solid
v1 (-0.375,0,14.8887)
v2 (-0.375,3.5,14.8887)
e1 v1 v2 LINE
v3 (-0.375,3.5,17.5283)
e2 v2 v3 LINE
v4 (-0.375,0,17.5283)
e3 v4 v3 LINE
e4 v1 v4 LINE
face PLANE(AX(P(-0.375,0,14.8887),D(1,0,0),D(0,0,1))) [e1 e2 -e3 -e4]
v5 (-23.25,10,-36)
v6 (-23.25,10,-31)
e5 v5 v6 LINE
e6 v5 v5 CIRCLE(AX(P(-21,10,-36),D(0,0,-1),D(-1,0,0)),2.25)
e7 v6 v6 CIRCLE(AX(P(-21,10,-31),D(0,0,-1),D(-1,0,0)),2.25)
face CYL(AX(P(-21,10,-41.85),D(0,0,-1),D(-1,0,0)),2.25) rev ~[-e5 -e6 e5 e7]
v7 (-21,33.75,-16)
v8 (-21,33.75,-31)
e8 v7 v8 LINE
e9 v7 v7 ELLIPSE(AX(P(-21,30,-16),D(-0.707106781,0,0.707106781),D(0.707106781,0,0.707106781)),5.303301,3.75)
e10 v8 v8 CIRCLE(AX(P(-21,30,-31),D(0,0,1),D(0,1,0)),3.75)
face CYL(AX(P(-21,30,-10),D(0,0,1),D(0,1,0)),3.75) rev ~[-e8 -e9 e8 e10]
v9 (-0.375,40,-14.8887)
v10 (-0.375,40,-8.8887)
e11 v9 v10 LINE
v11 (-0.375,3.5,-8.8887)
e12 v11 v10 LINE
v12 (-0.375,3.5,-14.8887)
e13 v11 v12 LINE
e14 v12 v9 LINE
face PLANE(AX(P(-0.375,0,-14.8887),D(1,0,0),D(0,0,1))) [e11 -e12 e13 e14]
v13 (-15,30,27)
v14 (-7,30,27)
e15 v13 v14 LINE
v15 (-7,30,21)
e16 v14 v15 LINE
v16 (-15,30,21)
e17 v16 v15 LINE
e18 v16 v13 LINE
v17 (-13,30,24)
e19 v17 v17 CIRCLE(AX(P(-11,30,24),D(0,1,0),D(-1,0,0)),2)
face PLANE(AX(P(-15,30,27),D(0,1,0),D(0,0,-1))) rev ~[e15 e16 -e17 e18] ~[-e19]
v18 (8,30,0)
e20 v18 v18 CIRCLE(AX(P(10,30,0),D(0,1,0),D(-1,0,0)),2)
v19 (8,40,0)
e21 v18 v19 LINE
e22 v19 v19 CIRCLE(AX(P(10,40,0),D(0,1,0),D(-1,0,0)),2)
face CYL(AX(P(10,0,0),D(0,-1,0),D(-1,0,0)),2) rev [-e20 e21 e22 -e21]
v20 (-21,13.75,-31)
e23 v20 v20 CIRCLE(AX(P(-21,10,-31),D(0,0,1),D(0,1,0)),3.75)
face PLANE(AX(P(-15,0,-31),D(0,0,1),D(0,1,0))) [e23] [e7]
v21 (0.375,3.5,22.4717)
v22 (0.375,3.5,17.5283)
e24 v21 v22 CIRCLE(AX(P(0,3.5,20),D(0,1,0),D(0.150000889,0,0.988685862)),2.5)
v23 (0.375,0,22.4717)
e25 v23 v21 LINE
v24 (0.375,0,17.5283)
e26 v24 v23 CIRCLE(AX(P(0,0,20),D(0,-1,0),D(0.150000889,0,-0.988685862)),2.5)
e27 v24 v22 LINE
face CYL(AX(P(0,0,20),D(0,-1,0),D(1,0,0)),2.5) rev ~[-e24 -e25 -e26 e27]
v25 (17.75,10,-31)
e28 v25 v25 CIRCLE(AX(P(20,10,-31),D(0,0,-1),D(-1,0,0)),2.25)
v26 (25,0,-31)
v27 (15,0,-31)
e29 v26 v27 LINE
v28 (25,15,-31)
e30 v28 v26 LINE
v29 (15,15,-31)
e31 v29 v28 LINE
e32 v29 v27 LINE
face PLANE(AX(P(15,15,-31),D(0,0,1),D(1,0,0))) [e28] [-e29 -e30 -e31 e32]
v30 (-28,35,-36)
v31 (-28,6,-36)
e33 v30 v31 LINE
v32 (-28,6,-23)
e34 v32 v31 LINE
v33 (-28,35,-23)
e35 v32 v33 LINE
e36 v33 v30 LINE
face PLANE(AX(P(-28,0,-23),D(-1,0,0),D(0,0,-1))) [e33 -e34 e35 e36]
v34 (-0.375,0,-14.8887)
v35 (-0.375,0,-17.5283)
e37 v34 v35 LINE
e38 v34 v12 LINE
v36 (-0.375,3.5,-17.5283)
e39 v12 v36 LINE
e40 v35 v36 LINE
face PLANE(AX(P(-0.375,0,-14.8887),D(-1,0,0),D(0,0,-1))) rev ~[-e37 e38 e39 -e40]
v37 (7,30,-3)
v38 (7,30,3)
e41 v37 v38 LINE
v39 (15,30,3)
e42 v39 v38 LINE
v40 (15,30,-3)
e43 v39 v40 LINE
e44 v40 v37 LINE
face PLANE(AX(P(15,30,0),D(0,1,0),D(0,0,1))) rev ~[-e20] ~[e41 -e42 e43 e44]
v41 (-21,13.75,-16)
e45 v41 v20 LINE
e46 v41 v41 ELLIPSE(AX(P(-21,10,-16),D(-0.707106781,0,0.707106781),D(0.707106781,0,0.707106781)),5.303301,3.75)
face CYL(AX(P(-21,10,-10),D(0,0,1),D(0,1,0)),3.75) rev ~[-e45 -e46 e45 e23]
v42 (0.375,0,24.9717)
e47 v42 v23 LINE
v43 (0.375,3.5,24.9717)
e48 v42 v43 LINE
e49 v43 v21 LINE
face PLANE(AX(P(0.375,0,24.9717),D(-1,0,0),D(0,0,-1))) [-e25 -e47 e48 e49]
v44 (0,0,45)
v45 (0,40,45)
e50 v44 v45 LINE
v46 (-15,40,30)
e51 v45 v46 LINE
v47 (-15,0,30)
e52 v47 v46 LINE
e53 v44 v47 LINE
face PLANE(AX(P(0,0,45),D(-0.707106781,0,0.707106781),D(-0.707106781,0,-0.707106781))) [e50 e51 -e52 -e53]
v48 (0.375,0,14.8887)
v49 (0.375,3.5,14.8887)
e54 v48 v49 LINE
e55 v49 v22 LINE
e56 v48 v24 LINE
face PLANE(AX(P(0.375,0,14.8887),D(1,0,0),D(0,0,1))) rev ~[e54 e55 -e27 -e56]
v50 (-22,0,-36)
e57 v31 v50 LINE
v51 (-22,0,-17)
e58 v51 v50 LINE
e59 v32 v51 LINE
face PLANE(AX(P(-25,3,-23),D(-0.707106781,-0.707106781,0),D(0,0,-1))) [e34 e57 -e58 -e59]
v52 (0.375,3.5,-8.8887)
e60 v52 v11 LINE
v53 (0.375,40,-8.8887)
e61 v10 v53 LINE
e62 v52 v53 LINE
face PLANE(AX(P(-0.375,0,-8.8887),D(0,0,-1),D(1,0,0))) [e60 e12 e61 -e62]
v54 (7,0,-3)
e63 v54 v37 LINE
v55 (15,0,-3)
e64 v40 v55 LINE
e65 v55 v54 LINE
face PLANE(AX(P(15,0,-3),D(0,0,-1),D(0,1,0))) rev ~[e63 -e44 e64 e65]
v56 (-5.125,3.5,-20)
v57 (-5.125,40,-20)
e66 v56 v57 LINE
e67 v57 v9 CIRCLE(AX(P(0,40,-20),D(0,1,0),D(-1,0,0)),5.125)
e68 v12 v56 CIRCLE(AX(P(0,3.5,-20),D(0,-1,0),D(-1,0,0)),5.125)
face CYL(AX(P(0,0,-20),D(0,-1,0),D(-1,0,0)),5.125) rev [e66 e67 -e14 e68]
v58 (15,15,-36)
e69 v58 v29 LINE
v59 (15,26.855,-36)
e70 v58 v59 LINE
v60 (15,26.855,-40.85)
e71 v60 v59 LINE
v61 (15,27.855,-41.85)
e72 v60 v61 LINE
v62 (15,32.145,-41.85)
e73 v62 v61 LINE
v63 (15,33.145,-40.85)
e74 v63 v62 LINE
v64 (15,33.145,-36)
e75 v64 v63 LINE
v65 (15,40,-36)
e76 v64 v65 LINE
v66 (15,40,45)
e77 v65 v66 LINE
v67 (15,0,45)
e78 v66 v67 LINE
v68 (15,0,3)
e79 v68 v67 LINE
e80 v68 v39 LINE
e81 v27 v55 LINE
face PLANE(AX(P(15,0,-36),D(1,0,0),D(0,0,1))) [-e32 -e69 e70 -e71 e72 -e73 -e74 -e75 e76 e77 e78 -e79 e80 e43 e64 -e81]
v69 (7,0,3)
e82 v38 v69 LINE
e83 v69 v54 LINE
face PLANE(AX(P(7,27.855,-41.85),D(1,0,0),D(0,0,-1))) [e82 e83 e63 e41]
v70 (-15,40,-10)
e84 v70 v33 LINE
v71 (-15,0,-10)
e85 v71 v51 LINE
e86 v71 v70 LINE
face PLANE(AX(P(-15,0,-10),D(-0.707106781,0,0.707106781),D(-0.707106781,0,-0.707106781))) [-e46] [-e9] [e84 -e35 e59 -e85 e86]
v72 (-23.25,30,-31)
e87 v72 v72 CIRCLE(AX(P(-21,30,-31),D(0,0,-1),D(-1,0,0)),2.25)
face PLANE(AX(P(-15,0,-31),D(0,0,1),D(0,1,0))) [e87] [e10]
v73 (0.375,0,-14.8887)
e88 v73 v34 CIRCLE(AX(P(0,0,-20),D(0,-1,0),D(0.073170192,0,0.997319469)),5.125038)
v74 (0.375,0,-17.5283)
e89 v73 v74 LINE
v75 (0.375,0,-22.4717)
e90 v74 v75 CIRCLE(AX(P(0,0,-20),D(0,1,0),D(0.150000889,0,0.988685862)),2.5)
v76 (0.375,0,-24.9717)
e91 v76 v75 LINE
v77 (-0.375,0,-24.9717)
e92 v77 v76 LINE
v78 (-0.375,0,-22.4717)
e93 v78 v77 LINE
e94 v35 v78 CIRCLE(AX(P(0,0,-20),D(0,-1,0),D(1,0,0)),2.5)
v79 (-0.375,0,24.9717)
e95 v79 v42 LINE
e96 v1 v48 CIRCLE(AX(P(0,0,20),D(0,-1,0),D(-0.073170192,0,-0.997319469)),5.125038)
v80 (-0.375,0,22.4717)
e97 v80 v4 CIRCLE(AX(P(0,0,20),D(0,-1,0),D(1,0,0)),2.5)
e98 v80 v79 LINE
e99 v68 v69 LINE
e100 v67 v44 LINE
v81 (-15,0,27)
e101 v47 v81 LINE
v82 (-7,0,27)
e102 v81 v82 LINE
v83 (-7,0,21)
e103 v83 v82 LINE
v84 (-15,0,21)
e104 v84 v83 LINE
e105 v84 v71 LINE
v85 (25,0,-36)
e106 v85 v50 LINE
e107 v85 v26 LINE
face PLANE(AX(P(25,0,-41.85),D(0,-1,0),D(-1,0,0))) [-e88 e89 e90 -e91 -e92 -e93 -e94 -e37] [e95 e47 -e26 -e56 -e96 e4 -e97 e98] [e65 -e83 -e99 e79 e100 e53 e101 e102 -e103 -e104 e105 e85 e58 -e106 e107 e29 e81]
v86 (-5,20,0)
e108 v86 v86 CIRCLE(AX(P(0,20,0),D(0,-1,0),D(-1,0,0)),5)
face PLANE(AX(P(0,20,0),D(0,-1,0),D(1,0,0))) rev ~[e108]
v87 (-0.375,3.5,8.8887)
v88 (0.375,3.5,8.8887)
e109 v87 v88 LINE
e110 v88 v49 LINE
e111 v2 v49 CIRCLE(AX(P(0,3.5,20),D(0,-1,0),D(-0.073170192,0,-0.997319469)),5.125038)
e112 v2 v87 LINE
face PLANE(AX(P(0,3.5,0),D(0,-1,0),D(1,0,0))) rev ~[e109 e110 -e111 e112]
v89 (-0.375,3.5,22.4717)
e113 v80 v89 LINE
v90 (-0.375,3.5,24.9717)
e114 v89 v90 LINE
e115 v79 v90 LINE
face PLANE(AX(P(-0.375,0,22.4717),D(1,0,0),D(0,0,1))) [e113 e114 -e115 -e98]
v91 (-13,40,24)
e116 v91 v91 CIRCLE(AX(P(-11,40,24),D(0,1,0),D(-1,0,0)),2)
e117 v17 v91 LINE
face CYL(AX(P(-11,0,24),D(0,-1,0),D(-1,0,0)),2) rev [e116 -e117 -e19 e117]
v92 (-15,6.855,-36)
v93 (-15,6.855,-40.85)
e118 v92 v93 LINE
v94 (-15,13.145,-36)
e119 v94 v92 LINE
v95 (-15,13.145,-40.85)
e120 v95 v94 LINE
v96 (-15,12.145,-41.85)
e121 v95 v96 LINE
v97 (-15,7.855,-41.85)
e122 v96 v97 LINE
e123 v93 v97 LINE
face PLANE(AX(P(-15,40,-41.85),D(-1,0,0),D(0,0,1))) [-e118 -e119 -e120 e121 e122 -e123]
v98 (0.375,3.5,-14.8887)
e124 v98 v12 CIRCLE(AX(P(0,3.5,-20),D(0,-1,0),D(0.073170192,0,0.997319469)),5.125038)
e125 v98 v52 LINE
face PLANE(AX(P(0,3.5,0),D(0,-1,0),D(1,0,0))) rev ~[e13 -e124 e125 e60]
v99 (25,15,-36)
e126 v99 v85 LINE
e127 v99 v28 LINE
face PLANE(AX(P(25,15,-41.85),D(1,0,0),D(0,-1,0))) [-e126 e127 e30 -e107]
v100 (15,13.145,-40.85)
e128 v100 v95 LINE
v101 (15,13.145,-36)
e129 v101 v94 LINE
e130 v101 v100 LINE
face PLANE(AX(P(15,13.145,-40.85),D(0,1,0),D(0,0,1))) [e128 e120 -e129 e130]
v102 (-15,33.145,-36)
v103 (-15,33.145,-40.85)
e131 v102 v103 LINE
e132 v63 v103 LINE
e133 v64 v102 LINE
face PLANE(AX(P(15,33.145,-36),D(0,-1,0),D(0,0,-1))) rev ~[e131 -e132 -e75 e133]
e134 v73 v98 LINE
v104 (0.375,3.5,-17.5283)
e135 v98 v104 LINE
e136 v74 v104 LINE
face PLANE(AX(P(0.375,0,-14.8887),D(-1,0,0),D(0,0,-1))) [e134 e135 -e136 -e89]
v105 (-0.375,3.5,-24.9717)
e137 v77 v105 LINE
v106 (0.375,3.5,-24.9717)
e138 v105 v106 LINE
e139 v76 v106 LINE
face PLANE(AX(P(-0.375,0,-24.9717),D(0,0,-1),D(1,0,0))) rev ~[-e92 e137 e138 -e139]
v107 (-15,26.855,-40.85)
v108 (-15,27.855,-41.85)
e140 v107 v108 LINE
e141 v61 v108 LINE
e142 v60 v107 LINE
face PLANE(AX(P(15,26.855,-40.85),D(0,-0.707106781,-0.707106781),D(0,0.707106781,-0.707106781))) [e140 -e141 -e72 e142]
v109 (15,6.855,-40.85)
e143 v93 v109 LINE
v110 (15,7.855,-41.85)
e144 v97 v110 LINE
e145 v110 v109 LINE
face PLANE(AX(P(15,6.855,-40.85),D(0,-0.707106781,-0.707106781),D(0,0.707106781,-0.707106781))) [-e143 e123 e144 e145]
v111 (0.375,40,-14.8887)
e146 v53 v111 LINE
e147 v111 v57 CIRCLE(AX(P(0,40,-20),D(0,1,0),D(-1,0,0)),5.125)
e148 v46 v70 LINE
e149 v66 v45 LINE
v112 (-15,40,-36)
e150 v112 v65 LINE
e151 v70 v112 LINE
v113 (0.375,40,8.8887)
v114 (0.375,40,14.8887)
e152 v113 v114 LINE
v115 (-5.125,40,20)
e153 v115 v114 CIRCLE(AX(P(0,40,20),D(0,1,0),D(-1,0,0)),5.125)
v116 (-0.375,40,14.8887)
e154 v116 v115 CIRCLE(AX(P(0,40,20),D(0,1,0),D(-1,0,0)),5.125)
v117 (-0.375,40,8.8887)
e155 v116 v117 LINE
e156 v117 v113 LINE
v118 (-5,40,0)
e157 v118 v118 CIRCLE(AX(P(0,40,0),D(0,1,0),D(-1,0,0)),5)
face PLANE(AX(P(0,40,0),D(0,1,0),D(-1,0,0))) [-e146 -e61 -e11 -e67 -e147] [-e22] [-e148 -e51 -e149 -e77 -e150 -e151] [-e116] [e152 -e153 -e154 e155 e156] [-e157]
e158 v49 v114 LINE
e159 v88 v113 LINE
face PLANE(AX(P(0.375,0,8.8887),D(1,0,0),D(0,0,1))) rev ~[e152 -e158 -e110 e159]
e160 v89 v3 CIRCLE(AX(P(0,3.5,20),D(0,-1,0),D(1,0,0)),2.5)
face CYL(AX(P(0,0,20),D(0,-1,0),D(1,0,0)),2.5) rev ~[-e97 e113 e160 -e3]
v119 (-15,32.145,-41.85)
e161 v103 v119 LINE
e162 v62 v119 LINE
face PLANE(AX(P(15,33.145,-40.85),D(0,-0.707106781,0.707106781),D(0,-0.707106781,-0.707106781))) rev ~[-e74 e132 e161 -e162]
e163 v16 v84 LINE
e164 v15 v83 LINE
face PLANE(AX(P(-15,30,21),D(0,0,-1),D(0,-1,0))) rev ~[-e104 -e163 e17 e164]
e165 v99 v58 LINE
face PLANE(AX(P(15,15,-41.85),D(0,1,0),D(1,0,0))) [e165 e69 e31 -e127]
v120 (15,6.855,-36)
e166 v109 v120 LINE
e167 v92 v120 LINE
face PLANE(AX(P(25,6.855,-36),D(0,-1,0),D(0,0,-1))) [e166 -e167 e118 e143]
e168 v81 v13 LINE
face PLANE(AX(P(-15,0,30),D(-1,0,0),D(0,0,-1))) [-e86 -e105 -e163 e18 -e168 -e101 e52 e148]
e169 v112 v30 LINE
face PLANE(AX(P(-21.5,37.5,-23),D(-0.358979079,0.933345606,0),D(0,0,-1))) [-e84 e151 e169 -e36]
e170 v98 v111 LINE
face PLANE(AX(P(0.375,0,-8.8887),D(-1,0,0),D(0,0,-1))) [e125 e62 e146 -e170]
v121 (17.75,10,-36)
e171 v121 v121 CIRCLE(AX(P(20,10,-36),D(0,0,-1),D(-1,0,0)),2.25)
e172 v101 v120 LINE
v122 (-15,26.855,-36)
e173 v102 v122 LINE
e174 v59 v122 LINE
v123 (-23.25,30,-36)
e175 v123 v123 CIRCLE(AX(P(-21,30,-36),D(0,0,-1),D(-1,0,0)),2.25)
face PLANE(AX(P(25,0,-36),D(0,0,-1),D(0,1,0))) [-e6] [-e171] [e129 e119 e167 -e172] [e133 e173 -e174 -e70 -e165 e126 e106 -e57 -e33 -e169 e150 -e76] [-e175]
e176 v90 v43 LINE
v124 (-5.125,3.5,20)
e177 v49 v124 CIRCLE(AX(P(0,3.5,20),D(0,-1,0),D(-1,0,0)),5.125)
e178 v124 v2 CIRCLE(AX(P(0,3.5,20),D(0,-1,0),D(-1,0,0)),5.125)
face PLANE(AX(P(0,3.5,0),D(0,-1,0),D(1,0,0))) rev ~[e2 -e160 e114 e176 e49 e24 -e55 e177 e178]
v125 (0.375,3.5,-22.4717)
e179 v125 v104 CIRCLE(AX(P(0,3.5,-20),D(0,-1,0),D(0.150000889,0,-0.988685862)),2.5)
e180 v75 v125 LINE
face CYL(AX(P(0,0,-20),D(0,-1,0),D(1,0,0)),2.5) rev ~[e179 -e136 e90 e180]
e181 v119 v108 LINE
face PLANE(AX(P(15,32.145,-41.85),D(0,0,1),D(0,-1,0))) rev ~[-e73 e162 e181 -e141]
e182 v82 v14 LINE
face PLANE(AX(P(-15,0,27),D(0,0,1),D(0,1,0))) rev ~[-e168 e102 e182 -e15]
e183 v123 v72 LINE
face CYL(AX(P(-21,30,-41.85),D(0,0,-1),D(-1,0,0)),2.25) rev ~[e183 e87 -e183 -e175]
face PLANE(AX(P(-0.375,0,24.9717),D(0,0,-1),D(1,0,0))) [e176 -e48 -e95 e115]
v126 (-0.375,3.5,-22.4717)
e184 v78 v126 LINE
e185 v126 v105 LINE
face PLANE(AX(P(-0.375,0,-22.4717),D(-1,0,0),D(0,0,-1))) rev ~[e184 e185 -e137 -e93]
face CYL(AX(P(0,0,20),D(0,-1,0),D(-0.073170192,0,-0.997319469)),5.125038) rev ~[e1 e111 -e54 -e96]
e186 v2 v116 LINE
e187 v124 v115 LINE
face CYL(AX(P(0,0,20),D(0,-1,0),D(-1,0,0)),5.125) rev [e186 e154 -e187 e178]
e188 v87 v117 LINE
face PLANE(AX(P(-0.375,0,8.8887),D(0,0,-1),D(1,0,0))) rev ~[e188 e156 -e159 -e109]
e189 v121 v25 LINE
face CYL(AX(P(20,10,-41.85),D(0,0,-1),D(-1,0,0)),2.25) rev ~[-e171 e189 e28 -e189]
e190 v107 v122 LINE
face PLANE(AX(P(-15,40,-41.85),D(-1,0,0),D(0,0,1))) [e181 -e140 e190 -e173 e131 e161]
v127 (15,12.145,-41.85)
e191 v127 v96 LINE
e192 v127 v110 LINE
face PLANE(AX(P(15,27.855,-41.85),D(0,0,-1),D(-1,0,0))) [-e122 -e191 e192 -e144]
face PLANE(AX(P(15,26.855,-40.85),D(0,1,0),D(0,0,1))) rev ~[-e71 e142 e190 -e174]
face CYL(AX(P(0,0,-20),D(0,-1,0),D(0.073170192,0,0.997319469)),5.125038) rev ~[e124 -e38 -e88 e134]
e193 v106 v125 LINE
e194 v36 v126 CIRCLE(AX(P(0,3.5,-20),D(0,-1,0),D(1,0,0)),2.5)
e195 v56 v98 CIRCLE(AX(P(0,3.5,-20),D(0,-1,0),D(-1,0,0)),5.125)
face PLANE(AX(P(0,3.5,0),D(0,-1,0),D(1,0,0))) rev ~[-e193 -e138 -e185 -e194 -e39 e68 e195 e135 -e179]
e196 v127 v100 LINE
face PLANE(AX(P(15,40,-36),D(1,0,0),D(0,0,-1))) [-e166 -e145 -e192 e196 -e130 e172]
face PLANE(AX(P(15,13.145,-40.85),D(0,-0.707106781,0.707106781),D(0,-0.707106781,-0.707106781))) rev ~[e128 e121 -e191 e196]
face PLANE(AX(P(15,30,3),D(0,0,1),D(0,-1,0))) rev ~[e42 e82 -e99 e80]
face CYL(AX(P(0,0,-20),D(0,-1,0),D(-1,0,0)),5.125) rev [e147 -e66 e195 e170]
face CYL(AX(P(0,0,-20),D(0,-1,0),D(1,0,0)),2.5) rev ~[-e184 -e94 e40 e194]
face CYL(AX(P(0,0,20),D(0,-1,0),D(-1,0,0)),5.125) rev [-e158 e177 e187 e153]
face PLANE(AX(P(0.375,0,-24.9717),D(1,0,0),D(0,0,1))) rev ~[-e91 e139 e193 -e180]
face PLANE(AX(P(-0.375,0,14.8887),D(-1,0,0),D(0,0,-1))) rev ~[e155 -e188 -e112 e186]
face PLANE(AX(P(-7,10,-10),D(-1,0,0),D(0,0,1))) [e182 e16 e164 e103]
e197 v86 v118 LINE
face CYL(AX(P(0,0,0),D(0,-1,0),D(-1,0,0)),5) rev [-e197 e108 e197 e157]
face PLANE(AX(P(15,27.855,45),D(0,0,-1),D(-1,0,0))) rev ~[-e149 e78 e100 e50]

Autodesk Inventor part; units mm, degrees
ref_plane "YZ Plane" through (0, 0, 0) normal (1, 0, 0) x (0, 1, 0)
ref_plane "XZ Plane" through (0, 0, 0) normal (0, 1, 0) x (-1, 0, 0)
sketch "Sketch1" plane through (0, 0, 0) normal (0, 1, 0) x (-1, 0, 0)
  circle A0 centre (0, 0) radius 5
  line L0 (-23.6, 0) -> (36.6, 0) construction
  line L1 (0, -52.2) -> (0, 61.2) construction
  circle A1 centre (0, 20) radius 5.125
  circle A2 centre (0, -20) radius 5.125
  circle A3 centre (-10, 0) radius 2
  circle A4 centre (11, 24) radius 2
  line L2 (0, 45) -> (15, 30)
  line L3 (15, 30) -> (15, -10)
  line L4 (15, -10) -> (28, -23)
  line L5 (28, -23) -> (28, -36)
  line L6 (28, -36) -> (-15, -36)
  line L7 (-15, -36) -> (-15, 45)
  line L8 (-15, 45) -> (0, 45)
  line L9 (0.375, 14.8887) -> (0.375, 8.8887)
  line L10 (0.375, 8.8887) -> (-0.375, 8.8887)
  line L11 (-0.375, 8.8887) -> (-0.375, 14.8887)
  line L12 (0.375, -14.8887) -> (0.375, -8.8887)
  line L13 (0.375, -8.8887) -> (-0.375, -8.8887)
  line L14 (-0.375, -8.8887) -> (-0.375, -14.8887)
  dimension "d0" = 10
  dimension "d1" = 10.25
  dimension "d3" = 40
  dimension "d4" = 4
  dimension "d5" = 11
  dimension "d6" = 4
  dimension "d9" = 10
  dimension "d10" = 4
  dimension "d13" = 45
  dimension "d14" = 15
  dimension "d16" = 16
  dimension "d17" = 13
  dimension "d18" = 45
  dimension "d19" = 25
  dimension "d24" = 0.75
  dimension "d25" = 6
  dimension "d106" = 13
extrude "Extrusion1" add sketch "Sketch1" along normal blind 40
sketch "Sketch2" plane through (0, 0, 0) normal (0, -1, 0) x (1, 0, 0)
  circle A0 centre (0, 0) radius 5 projected
extrude "Extrusion2" add sketch "Sketch2" against normal blind 20
sketch "Sketch3" plane through (0, 0, 0) normal (0, -1, 0) x (1, 0, 0)
  arc A0 (-0.375, -14.8887) -> (0.375, -14.8887) centre (0, -20) ccw projected
  circle A1 centre (0, -20) radius 2.5
  line L0 (-36.6, 0) -> (23.6, 0) construction
  line L1 (0.375, -14.8887) -> (0.375, -8.8887) projected
  line L2 (-0.375, -8.8887) -> (-0.375, -14.8887) projected
  line L3 (0.375, -8.8887) -> (-0.375, -8.8887) projected
  line L4 (-0.375, -14.8887) -> (-0.375, -17.5283)
  line L5 (0.375, -14.8887) -> (0.375, -17.5283)
  line L6 (-0.375, -22.4717) -> (-0.375, -24.9717)
  line L7 (-0.375, -24.9717) -> (0.375, -24.9717)
  line L8 (0.375, -24.9717) -> (0.375, -22.4717)
  arc A2 (0.375, 14.8887) -> (-0.375, 14.8887) centre (0, 20) ccw projected
  line L9 (-0.375, 14.8887) -> (-0.375, 8.8887) projected
  line L10 (0.375, 8.8887) -> (0.375, 14.8887) projected
  line L11 (-0.375, 8.8887) -> (0.375, 8.8887) projected
  circle A3 centre (0, 20) radius 2.5
  line L12 (-0.375, 14.8887) -> (-0.375, 17.5283)
  line L13 (0.375, 14.8887) -> (0.375, 17.5283)
  line L14 (-0.375, 22.4717) -> (-0.375, 24.9717)
  line L15 (-0.375, 24.9717) -> (0.375, 24.9717)
  line L16 (0.375, 24.9717) -> (0.375, 22.4717)
  line L17 (-0.375, -8.8887) -> (-0.375, -14.8887) projected
  arc A4 (0.375, -14.8887) -> (-0.375, -14.8887) centre (0, -20) ccw
  arc A5 (-0.375, 14.8887) -> (0.375, 14.8887) centre (0, 20) ccw
  point P0 (0, 0)
  dimension "d26" = 5
  dimension "d27" = 2.5
  dimension "d30" = 5.125
  dimension "d31" = 5.125
extrude "Extrusion3" add sketch "Sketch3" against normal blind 3.5 contours L4 A1 L6 L7 L8 L5 A0 | L2 L3 L1 A4 | L13 A3 L16 L15 L14 L12 A2 | L10 L11 L9 A5
sketch "Sketch4" plane through (15, 0, 45) normal (1, 0, 0) x (0, 0, -1)
  line L0 (81, 0) -> (81, 40) construction
  line L1 (81, 33.145) -> (85.85, 33.145)
  line L2 (86.85, 32.145) -> (86.85, 27.855)
  line L3 (85.85, 26.855) -> (81, 26.855)
  line L4 (81, 26.855) -> (81, 33.145)
  line L5 (81, 20) -> (108.6331, 20) construction
  line L6 (0, 40) -> (81, 40) construction
  line L7 (85.85, 33.145) -> (86.85, 32.145)
  line L8 (85.85, 26.855) -> (86.85, 27.855)
  line L9 (81, 6.855) -> (85.85, 6.855)
  line L10 (86.85, 7.855) -> (86.85, 12.145)
  line L11 (85.85, 13.145) -> (81, 13.145)
  line L12 (81, 13.145) -> (81, 6.855)
  line L13 (85.85, 6.855) -> (86.85, 7.855)
  line L14 (85.85, 13.145) -> (86.85, 12.145)
  point P0 (45, 0)
  point P1 (86.85, 26.855)
  point P2 (86.85, 33.145)
  point P3 (86.85, 13.145)
  point P4 (86.85, 6.855)
  dimension "d32" = 6.855
  dimension "d33" = 5.85
  dimension "d34" = 6.29
  dimension "d35" = 1
  dimension "d36" = 1
  dimension "d37" = 1
  dimension "d38" = 1
extrude "Extrusion4" add sketch "Sketch4" against normal up to surface (43 mm away)
sketch "Sketch5" plane through (15, 27.855, -41.85) normal (0, 0, -1) x (-1, 0, 0)
  line L0 (30, -27.855) -> (30, 12.145) construction
  line L1 (0, 5.29) -> (43, 5.29) projected
  line L2 (36, 5.29) -> (36, -1) construction
  line L3 (43, -1) -> (0, -1) projected
  circle A0 centre (36, 2.145) radius 2.25
  line L4 (0, -27.855) -> (0, 12.145) projected
  line L5 (0, -7.855) -> (43, -7.855) construction
  line L6 (43, -27.855) -> (43, 12.145) projected
  circle A1 centre (36, -17.855) radius 2.25
  point P0 (15, -27.855)
  dimension "d41" = 4.5
  dimension "d42" = 6
extrude "Extrusion5" cut sketch "Sketch5" against normal through all contours A0 | A1
ref_plane "Work Plane1" through (-15, 0, -10) normal (0, 0, 1) x (0, 1, 0)
sketch "Sketch6" plane through (-15, 0, -10) normal (0, 0, 1) x (0, 1, 0)
  circle A0 centre (30, 6) radius 2.25 projected
  circle A1 centre (30, 6) radius 3.75
  circle A2 centre (10, 6) radius 2.25 projected
  circle A3 centre (10, 6) radius 3.75
  point P0 (0, -15)
  dimension "d46" = 7.5
  dimension "d47" = 7.5
extrude "Extrusion6" cut sketch "Sketch6" against normal blind 21 contours A0 | A1 | A2 | A3
sketch "Sketch7" plane through (15, 27.855, -41.85) normal (0, 0, -1) x (-1, 0, 0)
  line L0 (0, -27.855) -> (0, 12.145) projected
  line L1 (0, -7.855) -> (43, -7.855) construction
  line L2 (43, -27.855) -> (43, 12.145) projected
  line L3 (0, -15.71) -> (0, -20)
  line L4 (0, -12.855) -> (-10, -12.855)
  line L5 (-10, -12.855) -> (-10, -27.855)
  line L6 (-10, -27.855) -> (0, -27.855)
  line L7 (0, -27.855) -> (0, -12.855)
  line L8 (15, -27.855) -> (0, -27.855) projected
  point P0 (0, 0)
  point P1 (0, 4.29)
  point P2 (0, -17.855)
  point P3 (0, -12.855)
  point P4 (-10, -20.355)
  dimension "d63" = 10
  dimension "d64" = 5
extrude "Extrusion7" add sketch "Sketch7" against normal up to surface (86.85 mm away)
sketch "Sketch9" plane through (-28, 27.855, -41.85) normal (0, 0, -1) x (-1, 0, 0)
  arc A0 (-6.3207, 0) -> (-6.3207, 4.29) centre (-7, 2.145) ccw projected
  line L0 (-43, -6.9275) -> (0, -7.855) construction
  line L1 (0, -14.71) -> (0, -1) projected
  circle A1 centre (-48, -17.855) radius 2.25
  line L2 (-43, -12.855) -> (-53, -12.855) projected
  arc A2 (-7.6793, -15.71) -> (-7.6793, -20) centre (-7, -17.855) ccw projected
  line L3 (-7, -17.855) -> (-48, -17.855) construction
  line L4 (-48, -12.855) -> (-48, -17.855) construction
  point P0 (-28, -27.855)
extrude "Extrusion9" cut sketch "Sketch9" against normal through all
sketch "Sketch10" plane through (0, 0, 45) normal (0, 0, 1) x (1, 0, 0)
  circle A0 centre (20, 10) radius 2.25 projected
  circle A1 centre (20, 10) radius 3.5
  point P0 (0, 0)
  dimension "d59" = 7
extrude "Extrusion10" cut sketch "Sketch10" against normal blind 70 contours A0 | A1
sketch "Sketch11" plane through (25, 0, -41.85) normal (1, 0, 0) x (0, 0, -1)
  line L0 (-1, 13.145) -> (-5.85, 13.145) projected
  line L1 (-5.85, 13.145) -> (-5.85, 15) projected
  line L2 (0, 15) -> (-5.85, 15) projected
  line L3 (0, 12.145) -> (0, 15) projected
  line L4 (0, 12.145) -> (-1, 13.145) projected
  line L5 (-5.85, 13.145) -> (-5.85, 6.855) projected
  line L6 (0, 0) -> (0, 7.855) projected
  line L7 (-1, 6.855) -> (0, 7.855) projected
  line L8 (-5.85, 6.855) -> (-1, 6.855) projected
  line L9 (-5.85, 0) -> (-5.85, 6.855) projected
  line L10 (-5.85, 6.855) -> (-5.85, 0)
  line L11 (0, 0) -> (-86.85, 0) projected
  line L12 (-5.85, 0) -> (0, 0)
  point P0 (-41.85, 0)
extrude "Extrusion11" cut sketch "Sketch11" against normal through all
sketch "Sketch12" plane through (15, 27.855, -41.85) normal (1, 0, 0) x (0, 0, -1)
  line L0 (-43.85, 12.145) -> (-39.85, 12.145) projected
  line L1 (-44.85, -27.855) -> (-38.85, -27.855)
  line L2 (-38.85, -27.855) -> (-38.85, 2.145)
  line L3 (-38.85, 2.145) -> (-44.85, 2.145)
  line L4 (-44.85, 2.145) -> (-44.85, -27.855)
  line L5 (-41.85, 12.145) -> (-41.85, 2.145)
  line L6 (-31.85, -27.855) -> (-71.85, -27.855) projected
  point P0 (-41.85, -27.855)
  dimension "d72" = 10
  dimension "d74" = 6
extrude "Extrusion12" cut sketch "Sketch12" against normal blind 8
sketch "Sketch13" plane through (-15, 10, -10) normal (-1, 0, 0) x (0, 0, 1)
  line L0 (32, 30) -> (36, 30) projected
  line L1 (34, 30) -> (34, 20)
  line L2 (31, -10) -> (37, -10)
  line L3 (37, -10) -> (37, 20)
  line L4 (37, 20) -> (31, 20)
  line L5 (31, 20) -> (31, -10)
  line L6 (0, -10) -> (40, -10) projected
  dimension "d79" = 6
  dimension "d110" = 10
extrude "Extrusion13" cut sketch "Sketch13" against normal blind 8
chamfer "Chamfer2" distance 13 distance2 5 1 edges at (-28, 40, -29.5) measured on face at (-4.5425, 40, -32.3621)
chamfer "Chamfer3" distance 6 angle 45 1 edges at (-28, 0, -29.5)
sketch "Sketch18" plane through (15, 15, -36) normal (0, 1, 0) x (1, 0, 0)
  line L0 (-37, -19) -> (-43, -13) construction
  line L1 (10, 0) -> (10, -81) projected
  line L2 (0, -81) -> (0, 0) projected
  line L3 (10, 0) -> (0, 0)
  line L4 (0, 0) -> (0, -5)
  line L5 (0, -5) -> (10, -5)
  line L6 (10, -5) -> (10, 0)
  line L7 (10, 0) -> (10, -81) projected
  line L8 (10, -81) -> (0, -81)
  line L9 (8.5, -81) -> (1.5, -81) projected
  point P0 (-15, -36)
  point P1 (10, -5)
  dimension "d109" = 5
extrude "Extrusion18" cut sketch "Sketch18" against normal through all contours L1 L8 L2 L5
sketch "Sketch20" plane through (0, 40, 0) normal (0, 1, 0) x (1, 0, 0)
  line L0 (17.75, 41.85) -> (22.25, 41.85) projected
  line L1 (-20.3207, 41.85) -> (-18.75, 41.85) projected
  line L2 (25, 36) -> (15, 36)
  line L3 (15, 36) -> (15, 41.85)
  line L4 (15, 41.85) -> (25, 41.85)
  line L5 (25, 41.85) -> (25, 36)
  line L6 (25, 40.85) -> (25, 36) projected
  line L7 (25, 36) -> (15, 36) projected
  line L8 (25, 41.85) -> (-28, 41.85) construction
  line L9 (15, 40.85) -> (15, 36) projected
  line L10 (-28, 41.85) -> (-15, 41.85)
  line L11 (-15, 41.85) -> (-15, 36)
  line L12 (-15, 36) -> (-28, 36)
  line L13 (-28, 36) -> (-28, 41.85)
  line L14 (-15, 36) -> (-28, 36) projected
  line L15 (-28, 40.85) -> (-28, 36) projected
  line L16 (15, 41.85) -> (-28, 41.85) construction
  line L17 (-15, 10) -> (-15, 36) projected
  point P0 (0, 0)
extrude "Extrusion19" cut sketch "Sketch20" against normal through all
equation "\"d30\" = d31"
equation "\"d36\" = d35"
equation "\"d37\" = d35"
equation "\"d38\" = d37"
equation "\"d47\" = d46"
equation "\"d79\" = d74"
properties part number "_3DPrint"
